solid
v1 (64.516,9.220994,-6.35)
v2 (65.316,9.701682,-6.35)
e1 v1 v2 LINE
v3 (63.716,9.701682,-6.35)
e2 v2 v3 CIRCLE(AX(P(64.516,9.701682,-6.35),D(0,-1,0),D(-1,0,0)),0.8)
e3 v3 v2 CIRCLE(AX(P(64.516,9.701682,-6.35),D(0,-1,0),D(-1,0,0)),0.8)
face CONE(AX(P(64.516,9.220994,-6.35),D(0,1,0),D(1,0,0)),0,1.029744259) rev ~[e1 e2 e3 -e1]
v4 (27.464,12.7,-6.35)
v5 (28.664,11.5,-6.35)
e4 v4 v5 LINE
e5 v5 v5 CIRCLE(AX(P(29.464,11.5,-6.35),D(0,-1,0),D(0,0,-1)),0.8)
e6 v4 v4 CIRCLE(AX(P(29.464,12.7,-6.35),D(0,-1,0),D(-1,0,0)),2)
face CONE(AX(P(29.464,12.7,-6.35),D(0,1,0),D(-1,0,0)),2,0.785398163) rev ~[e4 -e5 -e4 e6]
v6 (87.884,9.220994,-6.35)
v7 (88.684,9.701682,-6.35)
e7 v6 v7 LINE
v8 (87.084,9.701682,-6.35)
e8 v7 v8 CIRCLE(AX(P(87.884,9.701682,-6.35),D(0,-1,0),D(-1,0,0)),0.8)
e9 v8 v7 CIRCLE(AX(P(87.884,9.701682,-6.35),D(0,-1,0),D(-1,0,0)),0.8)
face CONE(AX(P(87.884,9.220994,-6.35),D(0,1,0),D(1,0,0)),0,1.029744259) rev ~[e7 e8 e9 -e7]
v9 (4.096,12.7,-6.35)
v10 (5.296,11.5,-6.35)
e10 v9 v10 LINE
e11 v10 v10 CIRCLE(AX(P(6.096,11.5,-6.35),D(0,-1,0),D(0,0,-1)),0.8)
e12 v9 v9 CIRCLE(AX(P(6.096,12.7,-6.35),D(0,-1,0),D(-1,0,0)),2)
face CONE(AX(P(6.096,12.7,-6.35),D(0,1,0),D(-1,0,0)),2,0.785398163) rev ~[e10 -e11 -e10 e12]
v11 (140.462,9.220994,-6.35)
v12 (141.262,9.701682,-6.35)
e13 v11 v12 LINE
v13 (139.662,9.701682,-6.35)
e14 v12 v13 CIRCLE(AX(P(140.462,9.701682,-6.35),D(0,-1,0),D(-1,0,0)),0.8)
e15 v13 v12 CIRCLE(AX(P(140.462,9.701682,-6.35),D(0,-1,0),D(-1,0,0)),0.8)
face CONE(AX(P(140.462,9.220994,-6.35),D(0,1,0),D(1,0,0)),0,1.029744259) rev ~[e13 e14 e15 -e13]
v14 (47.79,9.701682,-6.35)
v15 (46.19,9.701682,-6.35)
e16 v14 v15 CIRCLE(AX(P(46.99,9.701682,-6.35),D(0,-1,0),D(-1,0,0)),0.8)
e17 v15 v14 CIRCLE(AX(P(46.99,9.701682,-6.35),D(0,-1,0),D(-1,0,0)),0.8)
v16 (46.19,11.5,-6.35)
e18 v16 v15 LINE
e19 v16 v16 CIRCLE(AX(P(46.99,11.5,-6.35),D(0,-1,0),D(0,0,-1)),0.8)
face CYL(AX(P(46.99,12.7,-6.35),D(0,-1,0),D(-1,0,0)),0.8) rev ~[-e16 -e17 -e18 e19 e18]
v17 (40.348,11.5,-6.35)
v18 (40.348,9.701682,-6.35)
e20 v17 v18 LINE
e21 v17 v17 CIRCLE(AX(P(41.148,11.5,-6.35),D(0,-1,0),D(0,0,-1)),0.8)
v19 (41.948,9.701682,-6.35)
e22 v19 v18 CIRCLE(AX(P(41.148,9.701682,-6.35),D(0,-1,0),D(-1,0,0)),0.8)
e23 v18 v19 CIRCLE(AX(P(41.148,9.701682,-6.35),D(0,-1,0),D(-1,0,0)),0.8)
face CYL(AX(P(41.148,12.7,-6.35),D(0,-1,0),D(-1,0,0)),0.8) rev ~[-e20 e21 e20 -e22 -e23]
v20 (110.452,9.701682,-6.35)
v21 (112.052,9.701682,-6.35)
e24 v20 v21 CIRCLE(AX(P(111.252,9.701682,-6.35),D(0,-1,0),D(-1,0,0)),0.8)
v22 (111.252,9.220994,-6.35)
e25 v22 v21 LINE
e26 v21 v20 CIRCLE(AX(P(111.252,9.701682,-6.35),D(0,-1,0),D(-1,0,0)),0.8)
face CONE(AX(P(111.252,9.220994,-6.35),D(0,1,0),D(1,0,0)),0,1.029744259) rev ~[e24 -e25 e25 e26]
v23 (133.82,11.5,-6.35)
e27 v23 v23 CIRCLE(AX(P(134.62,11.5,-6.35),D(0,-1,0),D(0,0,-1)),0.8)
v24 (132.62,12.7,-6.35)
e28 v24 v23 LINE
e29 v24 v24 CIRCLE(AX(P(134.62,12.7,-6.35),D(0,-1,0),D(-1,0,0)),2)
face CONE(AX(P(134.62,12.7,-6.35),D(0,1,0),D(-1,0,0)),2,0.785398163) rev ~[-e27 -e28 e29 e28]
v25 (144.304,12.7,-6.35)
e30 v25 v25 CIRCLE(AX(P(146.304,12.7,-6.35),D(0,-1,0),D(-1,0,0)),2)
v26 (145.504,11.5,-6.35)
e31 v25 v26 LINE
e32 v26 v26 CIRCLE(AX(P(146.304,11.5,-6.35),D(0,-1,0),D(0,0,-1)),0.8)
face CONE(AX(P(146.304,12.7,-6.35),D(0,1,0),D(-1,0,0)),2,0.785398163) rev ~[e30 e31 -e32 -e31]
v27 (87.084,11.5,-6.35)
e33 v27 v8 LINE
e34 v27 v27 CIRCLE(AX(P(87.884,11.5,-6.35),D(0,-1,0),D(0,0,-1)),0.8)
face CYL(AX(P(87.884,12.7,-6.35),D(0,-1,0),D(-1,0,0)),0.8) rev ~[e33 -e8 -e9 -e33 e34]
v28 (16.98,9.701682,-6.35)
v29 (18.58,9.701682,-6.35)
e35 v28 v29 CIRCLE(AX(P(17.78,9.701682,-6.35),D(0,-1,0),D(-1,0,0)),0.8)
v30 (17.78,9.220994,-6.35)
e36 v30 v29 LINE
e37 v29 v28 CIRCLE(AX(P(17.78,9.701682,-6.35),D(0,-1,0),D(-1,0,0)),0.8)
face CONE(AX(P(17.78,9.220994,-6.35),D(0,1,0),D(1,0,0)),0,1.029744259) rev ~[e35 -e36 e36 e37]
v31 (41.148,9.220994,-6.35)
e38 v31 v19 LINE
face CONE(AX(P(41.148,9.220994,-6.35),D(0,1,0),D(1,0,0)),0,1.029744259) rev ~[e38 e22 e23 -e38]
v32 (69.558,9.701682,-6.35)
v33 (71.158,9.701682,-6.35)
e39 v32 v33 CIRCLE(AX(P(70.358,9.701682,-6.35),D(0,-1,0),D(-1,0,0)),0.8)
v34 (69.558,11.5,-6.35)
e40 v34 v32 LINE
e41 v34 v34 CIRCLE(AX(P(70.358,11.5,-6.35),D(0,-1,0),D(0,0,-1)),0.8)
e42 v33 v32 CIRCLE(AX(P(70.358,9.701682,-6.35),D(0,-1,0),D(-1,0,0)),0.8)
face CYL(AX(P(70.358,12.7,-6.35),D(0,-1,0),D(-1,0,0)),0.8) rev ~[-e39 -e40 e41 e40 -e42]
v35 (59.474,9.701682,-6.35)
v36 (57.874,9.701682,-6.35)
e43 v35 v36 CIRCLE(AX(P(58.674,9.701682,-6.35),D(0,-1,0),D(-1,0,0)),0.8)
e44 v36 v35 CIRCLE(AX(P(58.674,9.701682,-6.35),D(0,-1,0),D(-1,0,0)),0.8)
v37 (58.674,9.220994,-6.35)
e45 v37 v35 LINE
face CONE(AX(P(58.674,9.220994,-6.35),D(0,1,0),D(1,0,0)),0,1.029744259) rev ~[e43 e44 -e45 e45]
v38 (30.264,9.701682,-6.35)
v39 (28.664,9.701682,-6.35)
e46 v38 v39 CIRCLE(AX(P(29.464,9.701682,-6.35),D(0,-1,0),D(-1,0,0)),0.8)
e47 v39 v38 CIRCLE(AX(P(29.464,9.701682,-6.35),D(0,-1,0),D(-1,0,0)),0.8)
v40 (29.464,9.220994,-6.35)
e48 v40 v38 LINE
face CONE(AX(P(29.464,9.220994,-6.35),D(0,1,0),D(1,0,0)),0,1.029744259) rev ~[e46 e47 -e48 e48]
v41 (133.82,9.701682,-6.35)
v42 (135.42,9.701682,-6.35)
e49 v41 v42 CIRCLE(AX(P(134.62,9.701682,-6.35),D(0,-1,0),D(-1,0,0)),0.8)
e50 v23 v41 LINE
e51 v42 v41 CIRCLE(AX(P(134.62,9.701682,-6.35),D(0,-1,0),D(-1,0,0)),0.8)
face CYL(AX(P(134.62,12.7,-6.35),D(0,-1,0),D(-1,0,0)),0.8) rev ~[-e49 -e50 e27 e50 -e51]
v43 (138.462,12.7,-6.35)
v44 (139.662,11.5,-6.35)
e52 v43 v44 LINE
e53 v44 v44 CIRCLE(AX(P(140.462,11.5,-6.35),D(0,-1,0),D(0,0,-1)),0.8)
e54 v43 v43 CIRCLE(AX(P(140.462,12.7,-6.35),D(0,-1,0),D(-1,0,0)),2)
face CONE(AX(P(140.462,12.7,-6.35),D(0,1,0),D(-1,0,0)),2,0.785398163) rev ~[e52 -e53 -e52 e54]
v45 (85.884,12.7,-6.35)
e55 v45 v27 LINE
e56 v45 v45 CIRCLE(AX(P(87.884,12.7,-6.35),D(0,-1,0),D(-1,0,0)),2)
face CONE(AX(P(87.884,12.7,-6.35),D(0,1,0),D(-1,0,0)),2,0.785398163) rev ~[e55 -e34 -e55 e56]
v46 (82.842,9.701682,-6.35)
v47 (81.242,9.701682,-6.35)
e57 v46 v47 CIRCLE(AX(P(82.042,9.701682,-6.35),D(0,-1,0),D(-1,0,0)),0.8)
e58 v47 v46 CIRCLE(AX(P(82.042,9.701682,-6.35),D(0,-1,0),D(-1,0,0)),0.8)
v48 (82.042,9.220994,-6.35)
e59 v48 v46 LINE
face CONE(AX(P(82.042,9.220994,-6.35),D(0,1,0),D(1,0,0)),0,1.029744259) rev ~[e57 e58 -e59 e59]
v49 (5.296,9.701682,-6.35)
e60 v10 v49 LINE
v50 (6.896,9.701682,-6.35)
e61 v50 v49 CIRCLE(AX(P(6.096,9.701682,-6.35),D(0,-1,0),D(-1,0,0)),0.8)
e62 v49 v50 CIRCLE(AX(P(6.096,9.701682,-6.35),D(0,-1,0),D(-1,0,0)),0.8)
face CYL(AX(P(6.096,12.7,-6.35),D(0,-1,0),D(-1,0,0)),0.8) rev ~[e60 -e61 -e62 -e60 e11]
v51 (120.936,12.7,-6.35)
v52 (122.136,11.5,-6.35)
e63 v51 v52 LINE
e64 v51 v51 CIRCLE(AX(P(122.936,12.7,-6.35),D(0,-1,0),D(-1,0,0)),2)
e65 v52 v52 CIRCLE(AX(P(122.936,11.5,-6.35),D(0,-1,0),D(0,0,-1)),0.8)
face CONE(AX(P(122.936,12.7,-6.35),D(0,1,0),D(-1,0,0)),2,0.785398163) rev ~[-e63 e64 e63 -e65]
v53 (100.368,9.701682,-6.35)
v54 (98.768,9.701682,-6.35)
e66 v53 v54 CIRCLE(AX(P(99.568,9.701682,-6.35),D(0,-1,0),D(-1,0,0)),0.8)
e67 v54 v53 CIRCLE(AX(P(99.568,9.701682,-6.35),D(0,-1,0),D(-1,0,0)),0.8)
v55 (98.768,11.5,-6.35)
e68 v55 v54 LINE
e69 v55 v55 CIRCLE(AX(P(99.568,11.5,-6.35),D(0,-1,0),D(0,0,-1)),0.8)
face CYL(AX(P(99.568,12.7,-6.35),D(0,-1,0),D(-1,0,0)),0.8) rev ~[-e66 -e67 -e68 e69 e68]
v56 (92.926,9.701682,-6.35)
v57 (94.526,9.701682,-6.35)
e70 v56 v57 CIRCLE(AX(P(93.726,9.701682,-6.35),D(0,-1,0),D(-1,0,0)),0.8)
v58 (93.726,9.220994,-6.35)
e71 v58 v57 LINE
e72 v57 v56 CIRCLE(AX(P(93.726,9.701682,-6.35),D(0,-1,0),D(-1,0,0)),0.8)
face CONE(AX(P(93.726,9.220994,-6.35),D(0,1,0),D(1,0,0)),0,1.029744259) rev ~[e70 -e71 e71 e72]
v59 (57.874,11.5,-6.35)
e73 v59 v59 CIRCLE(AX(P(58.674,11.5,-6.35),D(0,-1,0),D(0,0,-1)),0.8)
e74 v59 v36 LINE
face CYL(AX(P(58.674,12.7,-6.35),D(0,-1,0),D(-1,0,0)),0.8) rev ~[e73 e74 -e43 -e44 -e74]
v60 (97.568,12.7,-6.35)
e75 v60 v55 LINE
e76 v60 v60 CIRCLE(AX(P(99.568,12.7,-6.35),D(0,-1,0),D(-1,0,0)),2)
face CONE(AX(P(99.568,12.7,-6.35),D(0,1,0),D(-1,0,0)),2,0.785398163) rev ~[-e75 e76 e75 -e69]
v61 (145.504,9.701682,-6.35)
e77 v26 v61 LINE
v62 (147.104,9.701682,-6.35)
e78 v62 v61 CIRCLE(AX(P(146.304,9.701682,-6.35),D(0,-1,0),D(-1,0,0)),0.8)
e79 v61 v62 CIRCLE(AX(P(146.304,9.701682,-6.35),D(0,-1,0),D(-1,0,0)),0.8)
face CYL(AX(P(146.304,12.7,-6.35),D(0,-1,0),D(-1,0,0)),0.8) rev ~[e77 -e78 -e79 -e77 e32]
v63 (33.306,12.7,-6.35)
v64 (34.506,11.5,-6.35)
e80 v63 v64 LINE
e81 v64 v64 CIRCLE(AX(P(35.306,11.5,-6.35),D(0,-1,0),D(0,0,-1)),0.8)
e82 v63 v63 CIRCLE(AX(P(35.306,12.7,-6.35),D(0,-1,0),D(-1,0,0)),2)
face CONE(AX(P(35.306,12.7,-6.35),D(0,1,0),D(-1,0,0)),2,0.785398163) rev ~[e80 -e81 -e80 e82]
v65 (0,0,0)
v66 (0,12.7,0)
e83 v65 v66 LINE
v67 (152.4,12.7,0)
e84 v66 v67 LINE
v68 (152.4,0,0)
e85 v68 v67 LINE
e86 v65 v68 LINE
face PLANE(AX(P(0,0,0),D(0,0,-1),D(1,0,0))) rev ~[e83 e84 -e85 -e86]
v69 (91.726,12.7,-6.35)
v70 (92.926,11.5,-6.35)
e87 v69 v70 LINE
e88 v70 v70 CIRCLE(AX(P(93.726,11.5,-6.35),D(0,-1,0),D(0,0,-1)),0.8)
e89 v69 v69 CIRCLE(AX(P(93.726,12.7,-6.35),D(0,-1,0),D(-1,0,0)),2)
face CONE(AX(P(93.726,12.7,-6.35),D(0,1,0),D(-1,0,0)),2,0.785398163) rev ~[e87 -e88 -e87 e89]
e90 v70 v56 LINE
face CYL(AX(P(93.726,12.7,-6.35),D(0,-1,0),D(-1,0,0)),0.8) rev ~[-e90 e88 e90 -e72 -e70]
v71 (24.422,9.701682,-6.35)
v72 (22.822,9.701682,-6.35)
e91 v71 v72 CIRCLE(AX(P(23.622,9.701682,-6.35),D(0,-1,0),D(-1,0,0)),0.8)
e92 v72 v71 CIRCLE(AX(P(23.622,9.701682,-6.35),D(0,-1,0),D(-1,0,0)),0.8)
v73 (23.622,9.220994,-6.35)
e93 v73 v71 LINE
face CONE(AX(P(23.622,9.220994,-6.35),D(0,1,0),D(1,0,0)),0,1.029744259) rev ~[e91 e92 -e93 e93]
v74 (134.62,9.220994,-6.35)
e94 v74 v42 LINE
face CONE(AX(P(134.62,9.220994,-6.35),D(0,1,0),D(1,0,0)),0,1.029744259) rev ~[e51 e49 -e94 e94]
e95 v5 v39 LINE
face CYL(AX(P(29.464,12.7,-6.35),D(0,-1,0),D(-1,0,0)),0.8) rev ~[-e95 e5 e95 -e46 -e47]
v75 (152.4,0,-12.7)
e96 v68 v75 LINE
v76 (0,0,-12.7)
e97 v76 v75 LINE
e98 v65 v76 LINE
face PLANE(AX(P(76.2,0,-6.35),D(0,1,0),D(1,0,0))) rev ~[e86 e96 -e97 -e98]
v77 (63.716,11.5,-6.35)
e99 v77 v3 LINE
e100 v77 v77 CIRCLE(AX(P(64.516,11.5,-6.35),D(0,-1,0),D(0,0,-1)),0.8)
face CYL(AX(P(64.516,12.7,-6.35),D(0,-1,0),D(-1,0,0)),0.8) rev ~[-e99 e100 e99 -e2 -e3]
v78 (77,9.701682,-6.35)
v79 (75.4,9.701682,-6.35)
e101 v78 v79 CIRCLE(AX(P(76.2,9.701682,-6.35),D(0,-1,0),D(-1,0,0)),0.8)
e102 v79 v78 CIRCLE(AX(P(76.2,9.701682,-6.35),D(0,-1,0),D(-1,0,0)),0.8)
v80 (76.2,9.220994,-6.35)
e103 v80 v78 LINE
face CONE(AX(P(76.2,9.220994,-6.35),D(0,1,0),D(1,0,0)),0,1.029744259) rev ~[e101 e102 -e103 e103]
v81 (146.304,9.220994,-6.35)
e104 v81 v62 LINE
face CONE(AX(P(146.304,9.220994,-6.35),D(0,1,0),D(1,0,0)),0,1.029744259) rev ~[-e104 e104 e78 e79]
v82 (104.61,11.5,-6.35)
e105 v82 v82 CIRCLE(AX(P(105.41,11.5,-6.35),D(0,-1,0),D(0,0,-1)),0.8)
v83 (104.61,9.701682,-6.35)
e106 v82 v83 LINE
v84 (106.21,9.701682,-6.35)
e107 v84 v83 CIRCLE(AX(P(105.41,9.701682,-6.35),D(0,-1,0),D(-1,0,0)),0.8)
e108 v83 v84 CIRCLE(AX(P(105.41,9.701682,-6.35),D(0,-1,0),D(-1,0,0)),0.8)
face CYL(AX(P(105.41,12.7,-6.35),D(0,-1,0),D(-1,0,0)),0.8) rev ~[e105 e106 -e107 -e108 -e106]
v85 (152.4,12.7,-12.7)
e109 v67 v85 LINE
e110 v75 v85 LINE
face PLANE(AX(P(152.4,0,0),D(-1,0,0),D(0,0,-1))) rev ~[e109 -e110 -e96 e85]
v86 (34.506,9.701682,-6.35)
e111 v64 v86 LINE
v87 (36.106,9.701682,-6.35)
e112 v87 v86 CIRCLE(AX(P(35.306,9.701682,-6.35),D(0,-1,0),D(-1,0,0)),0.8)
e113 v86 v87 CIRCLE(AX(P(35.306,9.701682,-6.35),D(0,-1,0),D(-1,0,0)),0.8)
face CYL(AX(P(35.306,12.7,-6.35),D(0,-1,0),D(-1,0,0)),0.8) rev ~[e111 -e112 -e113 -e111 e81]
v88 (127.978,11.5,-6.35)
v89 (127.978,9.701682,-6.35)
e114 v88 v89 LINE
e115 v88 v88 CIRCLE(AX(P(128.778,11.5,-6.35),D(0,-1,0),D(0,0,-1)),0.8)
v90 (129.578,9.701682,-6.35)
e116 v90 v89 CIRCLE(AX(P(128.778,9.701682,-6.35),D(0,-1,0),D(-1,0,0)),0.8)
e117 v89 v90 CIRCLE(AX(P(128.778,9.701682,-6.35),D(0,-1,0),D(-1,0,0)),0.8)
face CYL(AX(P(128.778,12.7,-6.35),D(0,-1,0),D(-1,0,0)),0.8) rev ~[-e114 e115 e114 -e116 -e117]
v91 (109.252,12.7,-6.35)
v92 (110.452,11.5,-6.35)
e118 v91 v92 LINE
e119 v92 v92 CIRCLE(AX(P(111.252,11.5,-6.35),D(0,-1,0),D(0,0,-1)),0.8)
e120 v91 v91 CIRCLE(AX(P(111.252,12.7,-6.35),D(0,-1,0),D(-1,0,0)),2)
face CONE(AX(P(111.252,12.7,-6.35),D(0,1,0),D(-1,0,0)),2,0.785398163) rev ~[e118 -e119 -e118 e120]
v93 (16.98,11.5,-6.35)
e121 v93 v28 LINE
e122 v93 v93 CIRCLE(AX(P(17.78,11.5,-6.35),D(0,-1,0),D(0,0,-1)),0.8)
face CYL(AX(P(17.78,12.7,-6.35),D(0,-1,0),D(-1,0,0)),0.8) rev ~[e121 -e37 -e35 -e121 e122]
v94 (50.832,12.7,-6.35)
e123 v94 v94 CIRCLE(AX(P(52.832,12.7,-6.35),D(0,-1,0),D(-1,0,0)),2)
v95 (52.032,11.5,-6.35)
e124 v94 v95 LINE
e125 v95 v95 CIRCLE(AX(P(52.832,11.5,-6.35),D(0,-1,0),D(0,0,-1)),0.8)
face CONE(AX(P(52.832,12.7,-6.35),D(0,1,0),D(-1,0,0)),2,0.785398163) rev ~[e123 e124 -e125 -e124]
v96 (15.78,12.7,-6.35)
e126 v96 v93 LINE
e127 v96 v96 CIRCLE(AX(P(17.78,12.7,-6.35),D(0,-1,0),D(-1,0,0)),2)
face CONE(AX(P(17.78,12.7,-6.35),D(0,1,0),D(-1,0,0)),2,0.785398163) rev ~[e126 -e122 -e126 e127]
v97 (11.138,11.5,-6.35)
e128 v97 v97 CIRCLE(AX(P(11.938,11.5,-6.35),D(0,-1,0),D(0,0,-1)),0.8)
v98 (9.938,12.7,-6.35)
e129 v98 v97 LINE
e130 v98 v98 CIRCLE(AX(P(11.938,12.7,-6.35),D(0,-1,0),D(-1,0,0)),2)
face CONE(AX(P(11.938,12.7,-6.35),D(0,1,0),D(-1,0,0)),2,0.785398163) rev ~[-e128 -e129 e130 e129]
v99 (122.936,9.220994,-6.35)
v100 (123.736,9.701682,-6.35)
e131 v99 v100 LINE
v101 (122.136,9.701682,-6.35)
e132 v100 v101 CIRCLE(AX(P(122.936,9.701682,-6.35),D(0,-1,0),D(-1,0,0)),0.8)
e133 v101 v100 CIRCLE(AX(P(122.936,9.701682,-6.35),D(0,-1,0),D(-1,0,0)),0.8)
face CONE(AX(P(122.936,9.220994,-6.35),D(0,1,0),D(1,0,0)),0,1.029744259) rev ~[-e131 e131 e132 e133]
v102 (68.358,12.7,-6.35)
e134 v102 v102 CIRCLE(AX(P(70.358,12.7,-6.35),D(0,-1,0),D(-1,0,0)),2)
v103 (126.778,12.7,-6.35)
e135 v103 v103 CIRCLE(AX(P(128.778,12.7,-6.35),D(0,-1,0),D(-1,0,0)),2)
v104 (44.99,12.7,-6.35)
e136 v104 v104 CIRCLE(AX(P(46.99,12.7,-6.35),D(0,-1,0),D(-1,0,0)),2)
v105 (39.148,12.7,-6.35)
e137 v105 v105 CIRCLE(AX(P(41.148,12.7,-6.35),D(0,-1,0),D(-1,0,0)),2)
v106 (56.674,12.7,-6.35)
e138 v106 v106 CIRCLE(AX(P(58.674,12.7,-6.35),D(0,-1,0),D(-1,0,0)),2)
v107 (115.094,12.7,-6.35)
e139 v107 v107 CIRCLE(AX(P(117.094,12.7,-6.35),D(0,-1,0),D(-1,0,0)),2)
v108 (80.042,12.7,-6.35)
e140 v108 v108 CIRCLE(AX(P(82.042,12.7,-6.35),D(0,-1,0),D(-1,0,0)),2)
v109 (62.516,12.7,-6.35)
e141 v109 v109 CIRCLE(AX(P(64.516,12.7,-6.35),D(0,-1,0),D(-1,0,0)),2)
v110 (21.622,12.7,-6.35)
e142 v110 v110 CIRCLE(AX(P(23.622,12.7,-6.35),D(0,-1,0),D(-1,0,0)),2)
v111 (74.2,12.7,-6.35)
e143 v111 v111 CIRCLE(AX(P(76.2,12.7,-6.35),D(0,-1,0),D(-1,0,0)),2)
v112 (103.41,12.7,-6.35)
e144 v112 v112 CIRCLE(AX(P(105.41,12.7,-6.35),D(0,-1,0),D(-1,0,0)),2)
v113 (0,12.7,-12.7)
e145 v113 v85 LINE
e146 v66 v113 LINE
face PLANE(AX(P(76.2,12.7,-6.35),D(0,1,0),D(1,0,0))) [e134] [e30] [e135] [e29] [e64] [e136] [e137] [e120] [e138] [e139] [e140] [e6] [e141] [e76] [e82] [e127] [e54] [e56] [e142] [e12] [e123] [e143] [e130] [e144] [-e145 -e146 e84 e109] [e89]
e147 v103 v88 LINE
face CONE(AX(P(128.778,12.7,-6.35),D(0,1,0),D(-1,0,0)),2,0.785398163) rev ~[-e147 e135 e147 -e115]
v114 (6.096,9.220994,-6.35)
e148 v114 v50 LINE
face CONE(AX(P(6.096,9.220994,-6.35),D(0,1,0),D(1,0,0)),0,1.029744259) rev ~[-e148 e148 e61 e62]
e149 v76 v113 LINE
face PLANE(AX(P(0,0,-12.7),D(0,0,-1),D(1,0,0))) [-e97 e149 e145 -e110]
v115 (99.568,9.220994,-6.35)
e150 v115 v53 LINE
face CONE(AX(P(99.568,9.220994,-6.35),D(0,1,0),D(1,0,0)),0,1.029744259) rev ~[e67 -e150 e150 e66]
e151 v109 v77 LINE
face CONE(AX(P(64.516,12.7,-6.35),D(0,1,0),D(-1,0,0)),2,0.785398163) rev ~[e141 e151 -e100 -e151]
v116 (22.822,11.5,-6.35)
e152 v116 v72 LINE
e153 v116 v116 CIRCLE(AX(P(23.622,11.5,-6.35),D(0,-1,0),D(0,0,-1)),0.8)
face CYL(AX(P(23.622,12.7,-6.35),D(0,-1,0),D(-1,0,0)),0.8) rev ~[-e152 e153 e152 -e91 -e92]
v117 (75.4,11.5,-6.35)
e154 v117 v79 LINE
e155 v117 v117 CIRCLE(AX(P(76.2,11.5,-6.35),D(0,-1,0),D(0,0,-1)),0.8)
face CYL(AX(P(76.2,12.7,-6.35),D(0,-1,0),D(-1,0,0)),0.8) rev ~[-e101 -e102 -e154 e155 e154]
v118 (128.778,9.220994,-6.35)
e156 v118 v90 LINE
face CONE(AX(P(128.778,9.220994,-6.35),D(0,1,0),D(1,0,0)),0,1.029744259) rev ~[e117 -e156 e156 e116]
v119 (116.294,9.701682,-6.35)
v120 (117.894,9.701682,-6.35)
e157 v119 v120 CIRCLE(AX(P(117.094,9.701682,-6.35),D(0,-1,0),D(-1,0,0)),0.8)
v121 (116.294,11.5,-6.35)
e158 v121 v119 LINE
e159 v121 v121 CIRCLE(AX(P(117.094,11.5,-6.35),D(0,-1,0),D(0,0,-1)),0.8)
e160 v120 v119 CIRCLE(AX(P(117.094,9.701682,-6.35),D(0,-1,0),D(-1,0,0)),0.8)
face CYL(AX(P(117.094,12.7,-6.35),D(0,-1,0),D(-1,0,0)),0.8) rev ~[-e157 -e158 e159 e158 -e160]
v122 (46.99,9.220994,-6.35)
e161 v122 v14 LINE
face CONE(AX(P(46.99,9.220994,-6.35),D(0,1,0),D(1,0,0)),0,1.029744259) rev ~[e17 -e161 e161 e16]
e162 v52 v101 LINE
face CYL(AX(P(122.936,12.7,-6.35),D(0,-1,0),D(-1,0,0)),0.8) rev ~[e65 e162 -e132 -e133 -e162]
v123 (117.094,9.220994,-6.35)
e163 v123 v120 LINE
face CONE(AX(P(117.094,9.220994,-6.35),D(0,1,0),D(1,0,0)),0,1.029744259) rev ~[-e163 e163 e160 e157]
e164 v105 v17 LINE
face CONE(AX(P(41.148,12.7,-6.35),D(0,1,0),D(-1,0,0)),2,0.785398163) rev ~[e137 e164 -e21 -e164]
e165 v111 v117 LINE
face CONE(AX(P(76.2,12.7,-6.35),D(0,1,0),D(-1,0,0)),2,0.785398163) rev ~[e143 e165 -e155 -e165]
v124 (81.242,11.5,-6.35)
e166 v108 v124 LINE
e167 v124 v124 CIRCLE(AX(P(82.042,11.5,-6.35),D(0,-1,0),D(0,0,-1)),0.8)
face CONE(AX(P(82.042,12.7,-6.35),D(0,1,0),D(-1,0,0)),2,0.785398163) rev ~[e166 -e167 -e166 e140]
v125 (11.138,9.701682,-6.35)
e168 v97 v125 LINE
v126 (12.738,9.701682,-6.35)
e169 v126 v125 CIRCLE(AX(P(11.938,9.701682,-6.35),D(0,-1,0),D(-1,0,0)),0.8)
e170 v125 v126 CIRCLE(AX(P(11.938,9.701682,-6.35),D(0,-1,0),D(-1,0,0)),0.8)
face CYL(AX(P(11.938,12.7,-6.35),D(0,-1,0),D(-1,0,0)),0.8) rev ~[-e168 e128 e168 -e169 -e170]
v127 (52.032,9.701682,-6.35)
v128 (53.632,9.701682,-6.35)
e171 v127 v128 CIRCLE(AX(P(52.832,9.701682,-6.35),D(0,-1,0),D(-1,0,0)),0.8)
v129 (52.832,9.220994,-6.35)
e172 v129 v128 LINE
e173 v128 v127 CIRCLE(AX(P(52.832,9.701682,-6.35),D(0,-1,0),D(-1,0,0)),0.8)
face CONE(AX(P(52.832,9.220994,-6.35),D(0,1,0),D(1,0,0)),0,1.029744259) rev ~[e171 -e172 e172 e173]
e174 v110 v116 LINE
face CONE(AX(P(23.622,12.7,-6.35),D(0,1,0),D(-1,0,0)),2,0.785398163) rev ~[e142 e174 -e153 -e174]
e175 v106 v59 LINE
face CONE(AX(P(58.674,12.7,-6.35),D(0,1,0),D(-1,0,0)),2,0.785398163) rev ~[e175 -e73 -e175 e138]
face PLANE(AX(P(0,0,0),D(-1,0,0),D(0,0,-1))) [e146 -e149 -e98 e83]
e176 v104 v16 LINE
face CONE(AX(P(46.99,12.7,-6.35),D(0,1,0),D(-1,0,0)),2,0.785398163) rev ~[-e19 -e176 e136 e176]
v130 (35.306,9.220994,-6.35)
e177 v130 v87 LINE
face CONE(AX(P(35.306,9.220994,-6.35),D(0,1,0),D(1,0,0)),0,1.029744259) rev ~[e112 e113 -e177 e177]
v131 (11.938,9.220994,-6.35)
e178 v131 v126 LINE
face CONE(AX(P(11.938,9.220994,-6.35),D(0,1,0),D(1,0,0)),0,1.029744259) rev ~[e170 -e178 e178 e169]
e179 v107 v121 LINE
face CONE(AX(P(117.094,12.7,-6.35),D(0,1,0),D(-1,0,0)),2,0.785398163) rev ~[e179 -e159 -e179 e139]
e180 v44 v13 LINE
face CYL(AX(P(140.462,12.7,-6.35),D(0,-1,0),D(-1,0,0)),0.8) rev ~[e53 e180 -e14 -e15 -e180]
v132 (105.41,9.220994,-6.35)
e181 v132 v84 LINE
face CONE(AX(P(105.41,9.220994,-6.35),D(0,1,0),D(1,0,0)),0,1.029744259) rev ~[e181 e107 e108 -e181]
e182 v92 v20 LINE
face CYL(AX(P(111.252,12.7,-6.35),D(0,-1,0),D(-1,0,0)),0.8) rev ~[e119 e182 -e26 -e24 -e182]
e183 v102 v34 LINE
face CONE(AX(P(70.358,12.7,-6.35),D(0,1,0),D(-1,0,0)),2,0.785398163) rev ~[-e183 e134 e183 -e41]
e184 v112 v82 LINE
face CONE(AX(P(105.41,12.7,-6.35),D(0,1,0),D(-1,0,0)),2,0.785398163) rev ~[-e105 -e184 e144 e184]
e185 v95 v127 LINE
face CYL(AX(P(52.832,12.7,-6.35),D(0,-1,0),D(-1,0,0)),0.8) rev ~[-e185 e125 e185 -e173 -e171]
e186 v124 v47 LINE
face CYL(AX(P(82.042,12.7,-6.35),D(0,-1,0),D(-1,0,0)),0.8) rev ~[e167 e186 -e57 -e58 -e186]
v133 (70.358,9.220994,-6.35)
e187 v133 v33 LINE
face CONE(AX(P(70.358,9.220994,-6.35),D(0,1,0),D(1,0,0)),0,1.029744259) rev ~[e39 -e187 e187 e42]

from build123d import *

# Parameters (mm, degrees)
SKETCH1_W                       = 152.4
SKETCH1_H                       = 12.7
BOSS_EXTRUDE1_DEPTH             = 12.7
M2X0_4_TAPPED_HOLE1_D           = 1.6
M2X0_4_TAPPED_HOLE1_DEPTH       = 2.9983176
M2X0_4_TAPPED_HOLE1_CSINK_D     = 4
M2X0_4_TAPPED_HOLE1_CSINK_ANGLE = 90
M2X0_4_TAPPED_HOLE1_TIP         = 0.480688495


with BuildPart() as part:
    # Sketch1 → Boss-Extrude1 (new body)
    with BuildSketch(Plane(origin=(0, 0, 0), x_dir=(1, 0, 0), z_dir=(0, 1, 0))):
        with Locations((76.2, 6.35)):
            Rectangle(SKETCH1_W, SKETCH1_H)
    extrude(amount=BOSS_EXTRUDE1_DEPTH)

    # M2x0.4 Tapped Hole1
    with Locations(Plane(origin=(0, 12.7, 0), x_dir=(1, 0, 0), z_dir=(0, 1, 0))):
        with Locations((6.096, 6.35), (11.938, 6.35), (17.78, 6.35), (23.622, 6.35), (29.464, 6.35), (35.306, 6.35), (41.148, 6.35), (46.99, 6.35), (52.832, 6.35), (58.674, 6.35), (64.516, 6.35), (70.358, 6.35), (76.2, 6.35), (82.042, 6.35), (87.884, 6.35), (93.726, 6.35), (99.568, 6.35), (105.41, 6.35), (111.252, 6.35), (117.094, 6.35), (122.936, 6.35), (128.778, 6.35), (134.62, 6.35), (140.462, 6.35), (146.304, 6.35)):
            CounterSinkHole(M2X0_4_TAPPED_HOLE1_D / 2, M2X0_4_TAPPED_HOLE1_CSINK_D / 2, depth=M2X0_4_TAPPED_HOLE1_DEPTH, counter_sink_angle=M2X0_4_TAPPED_HOLE1_CSINK_ANGLE)
            with Locations((0, 0, -(M2X0_4_TAPPED_HOLE1_DEPTH + M2X0_4_TAPPED_HOLE1_TIP / 2))):  # 118° drill point
                Cone(0, M2X0_4_TAPPED_HOLE1_D / 2, M2X0_4_TAPPED_HOLE1_TIP, mode=Mode.SUBTRACT)


solid = part.part
